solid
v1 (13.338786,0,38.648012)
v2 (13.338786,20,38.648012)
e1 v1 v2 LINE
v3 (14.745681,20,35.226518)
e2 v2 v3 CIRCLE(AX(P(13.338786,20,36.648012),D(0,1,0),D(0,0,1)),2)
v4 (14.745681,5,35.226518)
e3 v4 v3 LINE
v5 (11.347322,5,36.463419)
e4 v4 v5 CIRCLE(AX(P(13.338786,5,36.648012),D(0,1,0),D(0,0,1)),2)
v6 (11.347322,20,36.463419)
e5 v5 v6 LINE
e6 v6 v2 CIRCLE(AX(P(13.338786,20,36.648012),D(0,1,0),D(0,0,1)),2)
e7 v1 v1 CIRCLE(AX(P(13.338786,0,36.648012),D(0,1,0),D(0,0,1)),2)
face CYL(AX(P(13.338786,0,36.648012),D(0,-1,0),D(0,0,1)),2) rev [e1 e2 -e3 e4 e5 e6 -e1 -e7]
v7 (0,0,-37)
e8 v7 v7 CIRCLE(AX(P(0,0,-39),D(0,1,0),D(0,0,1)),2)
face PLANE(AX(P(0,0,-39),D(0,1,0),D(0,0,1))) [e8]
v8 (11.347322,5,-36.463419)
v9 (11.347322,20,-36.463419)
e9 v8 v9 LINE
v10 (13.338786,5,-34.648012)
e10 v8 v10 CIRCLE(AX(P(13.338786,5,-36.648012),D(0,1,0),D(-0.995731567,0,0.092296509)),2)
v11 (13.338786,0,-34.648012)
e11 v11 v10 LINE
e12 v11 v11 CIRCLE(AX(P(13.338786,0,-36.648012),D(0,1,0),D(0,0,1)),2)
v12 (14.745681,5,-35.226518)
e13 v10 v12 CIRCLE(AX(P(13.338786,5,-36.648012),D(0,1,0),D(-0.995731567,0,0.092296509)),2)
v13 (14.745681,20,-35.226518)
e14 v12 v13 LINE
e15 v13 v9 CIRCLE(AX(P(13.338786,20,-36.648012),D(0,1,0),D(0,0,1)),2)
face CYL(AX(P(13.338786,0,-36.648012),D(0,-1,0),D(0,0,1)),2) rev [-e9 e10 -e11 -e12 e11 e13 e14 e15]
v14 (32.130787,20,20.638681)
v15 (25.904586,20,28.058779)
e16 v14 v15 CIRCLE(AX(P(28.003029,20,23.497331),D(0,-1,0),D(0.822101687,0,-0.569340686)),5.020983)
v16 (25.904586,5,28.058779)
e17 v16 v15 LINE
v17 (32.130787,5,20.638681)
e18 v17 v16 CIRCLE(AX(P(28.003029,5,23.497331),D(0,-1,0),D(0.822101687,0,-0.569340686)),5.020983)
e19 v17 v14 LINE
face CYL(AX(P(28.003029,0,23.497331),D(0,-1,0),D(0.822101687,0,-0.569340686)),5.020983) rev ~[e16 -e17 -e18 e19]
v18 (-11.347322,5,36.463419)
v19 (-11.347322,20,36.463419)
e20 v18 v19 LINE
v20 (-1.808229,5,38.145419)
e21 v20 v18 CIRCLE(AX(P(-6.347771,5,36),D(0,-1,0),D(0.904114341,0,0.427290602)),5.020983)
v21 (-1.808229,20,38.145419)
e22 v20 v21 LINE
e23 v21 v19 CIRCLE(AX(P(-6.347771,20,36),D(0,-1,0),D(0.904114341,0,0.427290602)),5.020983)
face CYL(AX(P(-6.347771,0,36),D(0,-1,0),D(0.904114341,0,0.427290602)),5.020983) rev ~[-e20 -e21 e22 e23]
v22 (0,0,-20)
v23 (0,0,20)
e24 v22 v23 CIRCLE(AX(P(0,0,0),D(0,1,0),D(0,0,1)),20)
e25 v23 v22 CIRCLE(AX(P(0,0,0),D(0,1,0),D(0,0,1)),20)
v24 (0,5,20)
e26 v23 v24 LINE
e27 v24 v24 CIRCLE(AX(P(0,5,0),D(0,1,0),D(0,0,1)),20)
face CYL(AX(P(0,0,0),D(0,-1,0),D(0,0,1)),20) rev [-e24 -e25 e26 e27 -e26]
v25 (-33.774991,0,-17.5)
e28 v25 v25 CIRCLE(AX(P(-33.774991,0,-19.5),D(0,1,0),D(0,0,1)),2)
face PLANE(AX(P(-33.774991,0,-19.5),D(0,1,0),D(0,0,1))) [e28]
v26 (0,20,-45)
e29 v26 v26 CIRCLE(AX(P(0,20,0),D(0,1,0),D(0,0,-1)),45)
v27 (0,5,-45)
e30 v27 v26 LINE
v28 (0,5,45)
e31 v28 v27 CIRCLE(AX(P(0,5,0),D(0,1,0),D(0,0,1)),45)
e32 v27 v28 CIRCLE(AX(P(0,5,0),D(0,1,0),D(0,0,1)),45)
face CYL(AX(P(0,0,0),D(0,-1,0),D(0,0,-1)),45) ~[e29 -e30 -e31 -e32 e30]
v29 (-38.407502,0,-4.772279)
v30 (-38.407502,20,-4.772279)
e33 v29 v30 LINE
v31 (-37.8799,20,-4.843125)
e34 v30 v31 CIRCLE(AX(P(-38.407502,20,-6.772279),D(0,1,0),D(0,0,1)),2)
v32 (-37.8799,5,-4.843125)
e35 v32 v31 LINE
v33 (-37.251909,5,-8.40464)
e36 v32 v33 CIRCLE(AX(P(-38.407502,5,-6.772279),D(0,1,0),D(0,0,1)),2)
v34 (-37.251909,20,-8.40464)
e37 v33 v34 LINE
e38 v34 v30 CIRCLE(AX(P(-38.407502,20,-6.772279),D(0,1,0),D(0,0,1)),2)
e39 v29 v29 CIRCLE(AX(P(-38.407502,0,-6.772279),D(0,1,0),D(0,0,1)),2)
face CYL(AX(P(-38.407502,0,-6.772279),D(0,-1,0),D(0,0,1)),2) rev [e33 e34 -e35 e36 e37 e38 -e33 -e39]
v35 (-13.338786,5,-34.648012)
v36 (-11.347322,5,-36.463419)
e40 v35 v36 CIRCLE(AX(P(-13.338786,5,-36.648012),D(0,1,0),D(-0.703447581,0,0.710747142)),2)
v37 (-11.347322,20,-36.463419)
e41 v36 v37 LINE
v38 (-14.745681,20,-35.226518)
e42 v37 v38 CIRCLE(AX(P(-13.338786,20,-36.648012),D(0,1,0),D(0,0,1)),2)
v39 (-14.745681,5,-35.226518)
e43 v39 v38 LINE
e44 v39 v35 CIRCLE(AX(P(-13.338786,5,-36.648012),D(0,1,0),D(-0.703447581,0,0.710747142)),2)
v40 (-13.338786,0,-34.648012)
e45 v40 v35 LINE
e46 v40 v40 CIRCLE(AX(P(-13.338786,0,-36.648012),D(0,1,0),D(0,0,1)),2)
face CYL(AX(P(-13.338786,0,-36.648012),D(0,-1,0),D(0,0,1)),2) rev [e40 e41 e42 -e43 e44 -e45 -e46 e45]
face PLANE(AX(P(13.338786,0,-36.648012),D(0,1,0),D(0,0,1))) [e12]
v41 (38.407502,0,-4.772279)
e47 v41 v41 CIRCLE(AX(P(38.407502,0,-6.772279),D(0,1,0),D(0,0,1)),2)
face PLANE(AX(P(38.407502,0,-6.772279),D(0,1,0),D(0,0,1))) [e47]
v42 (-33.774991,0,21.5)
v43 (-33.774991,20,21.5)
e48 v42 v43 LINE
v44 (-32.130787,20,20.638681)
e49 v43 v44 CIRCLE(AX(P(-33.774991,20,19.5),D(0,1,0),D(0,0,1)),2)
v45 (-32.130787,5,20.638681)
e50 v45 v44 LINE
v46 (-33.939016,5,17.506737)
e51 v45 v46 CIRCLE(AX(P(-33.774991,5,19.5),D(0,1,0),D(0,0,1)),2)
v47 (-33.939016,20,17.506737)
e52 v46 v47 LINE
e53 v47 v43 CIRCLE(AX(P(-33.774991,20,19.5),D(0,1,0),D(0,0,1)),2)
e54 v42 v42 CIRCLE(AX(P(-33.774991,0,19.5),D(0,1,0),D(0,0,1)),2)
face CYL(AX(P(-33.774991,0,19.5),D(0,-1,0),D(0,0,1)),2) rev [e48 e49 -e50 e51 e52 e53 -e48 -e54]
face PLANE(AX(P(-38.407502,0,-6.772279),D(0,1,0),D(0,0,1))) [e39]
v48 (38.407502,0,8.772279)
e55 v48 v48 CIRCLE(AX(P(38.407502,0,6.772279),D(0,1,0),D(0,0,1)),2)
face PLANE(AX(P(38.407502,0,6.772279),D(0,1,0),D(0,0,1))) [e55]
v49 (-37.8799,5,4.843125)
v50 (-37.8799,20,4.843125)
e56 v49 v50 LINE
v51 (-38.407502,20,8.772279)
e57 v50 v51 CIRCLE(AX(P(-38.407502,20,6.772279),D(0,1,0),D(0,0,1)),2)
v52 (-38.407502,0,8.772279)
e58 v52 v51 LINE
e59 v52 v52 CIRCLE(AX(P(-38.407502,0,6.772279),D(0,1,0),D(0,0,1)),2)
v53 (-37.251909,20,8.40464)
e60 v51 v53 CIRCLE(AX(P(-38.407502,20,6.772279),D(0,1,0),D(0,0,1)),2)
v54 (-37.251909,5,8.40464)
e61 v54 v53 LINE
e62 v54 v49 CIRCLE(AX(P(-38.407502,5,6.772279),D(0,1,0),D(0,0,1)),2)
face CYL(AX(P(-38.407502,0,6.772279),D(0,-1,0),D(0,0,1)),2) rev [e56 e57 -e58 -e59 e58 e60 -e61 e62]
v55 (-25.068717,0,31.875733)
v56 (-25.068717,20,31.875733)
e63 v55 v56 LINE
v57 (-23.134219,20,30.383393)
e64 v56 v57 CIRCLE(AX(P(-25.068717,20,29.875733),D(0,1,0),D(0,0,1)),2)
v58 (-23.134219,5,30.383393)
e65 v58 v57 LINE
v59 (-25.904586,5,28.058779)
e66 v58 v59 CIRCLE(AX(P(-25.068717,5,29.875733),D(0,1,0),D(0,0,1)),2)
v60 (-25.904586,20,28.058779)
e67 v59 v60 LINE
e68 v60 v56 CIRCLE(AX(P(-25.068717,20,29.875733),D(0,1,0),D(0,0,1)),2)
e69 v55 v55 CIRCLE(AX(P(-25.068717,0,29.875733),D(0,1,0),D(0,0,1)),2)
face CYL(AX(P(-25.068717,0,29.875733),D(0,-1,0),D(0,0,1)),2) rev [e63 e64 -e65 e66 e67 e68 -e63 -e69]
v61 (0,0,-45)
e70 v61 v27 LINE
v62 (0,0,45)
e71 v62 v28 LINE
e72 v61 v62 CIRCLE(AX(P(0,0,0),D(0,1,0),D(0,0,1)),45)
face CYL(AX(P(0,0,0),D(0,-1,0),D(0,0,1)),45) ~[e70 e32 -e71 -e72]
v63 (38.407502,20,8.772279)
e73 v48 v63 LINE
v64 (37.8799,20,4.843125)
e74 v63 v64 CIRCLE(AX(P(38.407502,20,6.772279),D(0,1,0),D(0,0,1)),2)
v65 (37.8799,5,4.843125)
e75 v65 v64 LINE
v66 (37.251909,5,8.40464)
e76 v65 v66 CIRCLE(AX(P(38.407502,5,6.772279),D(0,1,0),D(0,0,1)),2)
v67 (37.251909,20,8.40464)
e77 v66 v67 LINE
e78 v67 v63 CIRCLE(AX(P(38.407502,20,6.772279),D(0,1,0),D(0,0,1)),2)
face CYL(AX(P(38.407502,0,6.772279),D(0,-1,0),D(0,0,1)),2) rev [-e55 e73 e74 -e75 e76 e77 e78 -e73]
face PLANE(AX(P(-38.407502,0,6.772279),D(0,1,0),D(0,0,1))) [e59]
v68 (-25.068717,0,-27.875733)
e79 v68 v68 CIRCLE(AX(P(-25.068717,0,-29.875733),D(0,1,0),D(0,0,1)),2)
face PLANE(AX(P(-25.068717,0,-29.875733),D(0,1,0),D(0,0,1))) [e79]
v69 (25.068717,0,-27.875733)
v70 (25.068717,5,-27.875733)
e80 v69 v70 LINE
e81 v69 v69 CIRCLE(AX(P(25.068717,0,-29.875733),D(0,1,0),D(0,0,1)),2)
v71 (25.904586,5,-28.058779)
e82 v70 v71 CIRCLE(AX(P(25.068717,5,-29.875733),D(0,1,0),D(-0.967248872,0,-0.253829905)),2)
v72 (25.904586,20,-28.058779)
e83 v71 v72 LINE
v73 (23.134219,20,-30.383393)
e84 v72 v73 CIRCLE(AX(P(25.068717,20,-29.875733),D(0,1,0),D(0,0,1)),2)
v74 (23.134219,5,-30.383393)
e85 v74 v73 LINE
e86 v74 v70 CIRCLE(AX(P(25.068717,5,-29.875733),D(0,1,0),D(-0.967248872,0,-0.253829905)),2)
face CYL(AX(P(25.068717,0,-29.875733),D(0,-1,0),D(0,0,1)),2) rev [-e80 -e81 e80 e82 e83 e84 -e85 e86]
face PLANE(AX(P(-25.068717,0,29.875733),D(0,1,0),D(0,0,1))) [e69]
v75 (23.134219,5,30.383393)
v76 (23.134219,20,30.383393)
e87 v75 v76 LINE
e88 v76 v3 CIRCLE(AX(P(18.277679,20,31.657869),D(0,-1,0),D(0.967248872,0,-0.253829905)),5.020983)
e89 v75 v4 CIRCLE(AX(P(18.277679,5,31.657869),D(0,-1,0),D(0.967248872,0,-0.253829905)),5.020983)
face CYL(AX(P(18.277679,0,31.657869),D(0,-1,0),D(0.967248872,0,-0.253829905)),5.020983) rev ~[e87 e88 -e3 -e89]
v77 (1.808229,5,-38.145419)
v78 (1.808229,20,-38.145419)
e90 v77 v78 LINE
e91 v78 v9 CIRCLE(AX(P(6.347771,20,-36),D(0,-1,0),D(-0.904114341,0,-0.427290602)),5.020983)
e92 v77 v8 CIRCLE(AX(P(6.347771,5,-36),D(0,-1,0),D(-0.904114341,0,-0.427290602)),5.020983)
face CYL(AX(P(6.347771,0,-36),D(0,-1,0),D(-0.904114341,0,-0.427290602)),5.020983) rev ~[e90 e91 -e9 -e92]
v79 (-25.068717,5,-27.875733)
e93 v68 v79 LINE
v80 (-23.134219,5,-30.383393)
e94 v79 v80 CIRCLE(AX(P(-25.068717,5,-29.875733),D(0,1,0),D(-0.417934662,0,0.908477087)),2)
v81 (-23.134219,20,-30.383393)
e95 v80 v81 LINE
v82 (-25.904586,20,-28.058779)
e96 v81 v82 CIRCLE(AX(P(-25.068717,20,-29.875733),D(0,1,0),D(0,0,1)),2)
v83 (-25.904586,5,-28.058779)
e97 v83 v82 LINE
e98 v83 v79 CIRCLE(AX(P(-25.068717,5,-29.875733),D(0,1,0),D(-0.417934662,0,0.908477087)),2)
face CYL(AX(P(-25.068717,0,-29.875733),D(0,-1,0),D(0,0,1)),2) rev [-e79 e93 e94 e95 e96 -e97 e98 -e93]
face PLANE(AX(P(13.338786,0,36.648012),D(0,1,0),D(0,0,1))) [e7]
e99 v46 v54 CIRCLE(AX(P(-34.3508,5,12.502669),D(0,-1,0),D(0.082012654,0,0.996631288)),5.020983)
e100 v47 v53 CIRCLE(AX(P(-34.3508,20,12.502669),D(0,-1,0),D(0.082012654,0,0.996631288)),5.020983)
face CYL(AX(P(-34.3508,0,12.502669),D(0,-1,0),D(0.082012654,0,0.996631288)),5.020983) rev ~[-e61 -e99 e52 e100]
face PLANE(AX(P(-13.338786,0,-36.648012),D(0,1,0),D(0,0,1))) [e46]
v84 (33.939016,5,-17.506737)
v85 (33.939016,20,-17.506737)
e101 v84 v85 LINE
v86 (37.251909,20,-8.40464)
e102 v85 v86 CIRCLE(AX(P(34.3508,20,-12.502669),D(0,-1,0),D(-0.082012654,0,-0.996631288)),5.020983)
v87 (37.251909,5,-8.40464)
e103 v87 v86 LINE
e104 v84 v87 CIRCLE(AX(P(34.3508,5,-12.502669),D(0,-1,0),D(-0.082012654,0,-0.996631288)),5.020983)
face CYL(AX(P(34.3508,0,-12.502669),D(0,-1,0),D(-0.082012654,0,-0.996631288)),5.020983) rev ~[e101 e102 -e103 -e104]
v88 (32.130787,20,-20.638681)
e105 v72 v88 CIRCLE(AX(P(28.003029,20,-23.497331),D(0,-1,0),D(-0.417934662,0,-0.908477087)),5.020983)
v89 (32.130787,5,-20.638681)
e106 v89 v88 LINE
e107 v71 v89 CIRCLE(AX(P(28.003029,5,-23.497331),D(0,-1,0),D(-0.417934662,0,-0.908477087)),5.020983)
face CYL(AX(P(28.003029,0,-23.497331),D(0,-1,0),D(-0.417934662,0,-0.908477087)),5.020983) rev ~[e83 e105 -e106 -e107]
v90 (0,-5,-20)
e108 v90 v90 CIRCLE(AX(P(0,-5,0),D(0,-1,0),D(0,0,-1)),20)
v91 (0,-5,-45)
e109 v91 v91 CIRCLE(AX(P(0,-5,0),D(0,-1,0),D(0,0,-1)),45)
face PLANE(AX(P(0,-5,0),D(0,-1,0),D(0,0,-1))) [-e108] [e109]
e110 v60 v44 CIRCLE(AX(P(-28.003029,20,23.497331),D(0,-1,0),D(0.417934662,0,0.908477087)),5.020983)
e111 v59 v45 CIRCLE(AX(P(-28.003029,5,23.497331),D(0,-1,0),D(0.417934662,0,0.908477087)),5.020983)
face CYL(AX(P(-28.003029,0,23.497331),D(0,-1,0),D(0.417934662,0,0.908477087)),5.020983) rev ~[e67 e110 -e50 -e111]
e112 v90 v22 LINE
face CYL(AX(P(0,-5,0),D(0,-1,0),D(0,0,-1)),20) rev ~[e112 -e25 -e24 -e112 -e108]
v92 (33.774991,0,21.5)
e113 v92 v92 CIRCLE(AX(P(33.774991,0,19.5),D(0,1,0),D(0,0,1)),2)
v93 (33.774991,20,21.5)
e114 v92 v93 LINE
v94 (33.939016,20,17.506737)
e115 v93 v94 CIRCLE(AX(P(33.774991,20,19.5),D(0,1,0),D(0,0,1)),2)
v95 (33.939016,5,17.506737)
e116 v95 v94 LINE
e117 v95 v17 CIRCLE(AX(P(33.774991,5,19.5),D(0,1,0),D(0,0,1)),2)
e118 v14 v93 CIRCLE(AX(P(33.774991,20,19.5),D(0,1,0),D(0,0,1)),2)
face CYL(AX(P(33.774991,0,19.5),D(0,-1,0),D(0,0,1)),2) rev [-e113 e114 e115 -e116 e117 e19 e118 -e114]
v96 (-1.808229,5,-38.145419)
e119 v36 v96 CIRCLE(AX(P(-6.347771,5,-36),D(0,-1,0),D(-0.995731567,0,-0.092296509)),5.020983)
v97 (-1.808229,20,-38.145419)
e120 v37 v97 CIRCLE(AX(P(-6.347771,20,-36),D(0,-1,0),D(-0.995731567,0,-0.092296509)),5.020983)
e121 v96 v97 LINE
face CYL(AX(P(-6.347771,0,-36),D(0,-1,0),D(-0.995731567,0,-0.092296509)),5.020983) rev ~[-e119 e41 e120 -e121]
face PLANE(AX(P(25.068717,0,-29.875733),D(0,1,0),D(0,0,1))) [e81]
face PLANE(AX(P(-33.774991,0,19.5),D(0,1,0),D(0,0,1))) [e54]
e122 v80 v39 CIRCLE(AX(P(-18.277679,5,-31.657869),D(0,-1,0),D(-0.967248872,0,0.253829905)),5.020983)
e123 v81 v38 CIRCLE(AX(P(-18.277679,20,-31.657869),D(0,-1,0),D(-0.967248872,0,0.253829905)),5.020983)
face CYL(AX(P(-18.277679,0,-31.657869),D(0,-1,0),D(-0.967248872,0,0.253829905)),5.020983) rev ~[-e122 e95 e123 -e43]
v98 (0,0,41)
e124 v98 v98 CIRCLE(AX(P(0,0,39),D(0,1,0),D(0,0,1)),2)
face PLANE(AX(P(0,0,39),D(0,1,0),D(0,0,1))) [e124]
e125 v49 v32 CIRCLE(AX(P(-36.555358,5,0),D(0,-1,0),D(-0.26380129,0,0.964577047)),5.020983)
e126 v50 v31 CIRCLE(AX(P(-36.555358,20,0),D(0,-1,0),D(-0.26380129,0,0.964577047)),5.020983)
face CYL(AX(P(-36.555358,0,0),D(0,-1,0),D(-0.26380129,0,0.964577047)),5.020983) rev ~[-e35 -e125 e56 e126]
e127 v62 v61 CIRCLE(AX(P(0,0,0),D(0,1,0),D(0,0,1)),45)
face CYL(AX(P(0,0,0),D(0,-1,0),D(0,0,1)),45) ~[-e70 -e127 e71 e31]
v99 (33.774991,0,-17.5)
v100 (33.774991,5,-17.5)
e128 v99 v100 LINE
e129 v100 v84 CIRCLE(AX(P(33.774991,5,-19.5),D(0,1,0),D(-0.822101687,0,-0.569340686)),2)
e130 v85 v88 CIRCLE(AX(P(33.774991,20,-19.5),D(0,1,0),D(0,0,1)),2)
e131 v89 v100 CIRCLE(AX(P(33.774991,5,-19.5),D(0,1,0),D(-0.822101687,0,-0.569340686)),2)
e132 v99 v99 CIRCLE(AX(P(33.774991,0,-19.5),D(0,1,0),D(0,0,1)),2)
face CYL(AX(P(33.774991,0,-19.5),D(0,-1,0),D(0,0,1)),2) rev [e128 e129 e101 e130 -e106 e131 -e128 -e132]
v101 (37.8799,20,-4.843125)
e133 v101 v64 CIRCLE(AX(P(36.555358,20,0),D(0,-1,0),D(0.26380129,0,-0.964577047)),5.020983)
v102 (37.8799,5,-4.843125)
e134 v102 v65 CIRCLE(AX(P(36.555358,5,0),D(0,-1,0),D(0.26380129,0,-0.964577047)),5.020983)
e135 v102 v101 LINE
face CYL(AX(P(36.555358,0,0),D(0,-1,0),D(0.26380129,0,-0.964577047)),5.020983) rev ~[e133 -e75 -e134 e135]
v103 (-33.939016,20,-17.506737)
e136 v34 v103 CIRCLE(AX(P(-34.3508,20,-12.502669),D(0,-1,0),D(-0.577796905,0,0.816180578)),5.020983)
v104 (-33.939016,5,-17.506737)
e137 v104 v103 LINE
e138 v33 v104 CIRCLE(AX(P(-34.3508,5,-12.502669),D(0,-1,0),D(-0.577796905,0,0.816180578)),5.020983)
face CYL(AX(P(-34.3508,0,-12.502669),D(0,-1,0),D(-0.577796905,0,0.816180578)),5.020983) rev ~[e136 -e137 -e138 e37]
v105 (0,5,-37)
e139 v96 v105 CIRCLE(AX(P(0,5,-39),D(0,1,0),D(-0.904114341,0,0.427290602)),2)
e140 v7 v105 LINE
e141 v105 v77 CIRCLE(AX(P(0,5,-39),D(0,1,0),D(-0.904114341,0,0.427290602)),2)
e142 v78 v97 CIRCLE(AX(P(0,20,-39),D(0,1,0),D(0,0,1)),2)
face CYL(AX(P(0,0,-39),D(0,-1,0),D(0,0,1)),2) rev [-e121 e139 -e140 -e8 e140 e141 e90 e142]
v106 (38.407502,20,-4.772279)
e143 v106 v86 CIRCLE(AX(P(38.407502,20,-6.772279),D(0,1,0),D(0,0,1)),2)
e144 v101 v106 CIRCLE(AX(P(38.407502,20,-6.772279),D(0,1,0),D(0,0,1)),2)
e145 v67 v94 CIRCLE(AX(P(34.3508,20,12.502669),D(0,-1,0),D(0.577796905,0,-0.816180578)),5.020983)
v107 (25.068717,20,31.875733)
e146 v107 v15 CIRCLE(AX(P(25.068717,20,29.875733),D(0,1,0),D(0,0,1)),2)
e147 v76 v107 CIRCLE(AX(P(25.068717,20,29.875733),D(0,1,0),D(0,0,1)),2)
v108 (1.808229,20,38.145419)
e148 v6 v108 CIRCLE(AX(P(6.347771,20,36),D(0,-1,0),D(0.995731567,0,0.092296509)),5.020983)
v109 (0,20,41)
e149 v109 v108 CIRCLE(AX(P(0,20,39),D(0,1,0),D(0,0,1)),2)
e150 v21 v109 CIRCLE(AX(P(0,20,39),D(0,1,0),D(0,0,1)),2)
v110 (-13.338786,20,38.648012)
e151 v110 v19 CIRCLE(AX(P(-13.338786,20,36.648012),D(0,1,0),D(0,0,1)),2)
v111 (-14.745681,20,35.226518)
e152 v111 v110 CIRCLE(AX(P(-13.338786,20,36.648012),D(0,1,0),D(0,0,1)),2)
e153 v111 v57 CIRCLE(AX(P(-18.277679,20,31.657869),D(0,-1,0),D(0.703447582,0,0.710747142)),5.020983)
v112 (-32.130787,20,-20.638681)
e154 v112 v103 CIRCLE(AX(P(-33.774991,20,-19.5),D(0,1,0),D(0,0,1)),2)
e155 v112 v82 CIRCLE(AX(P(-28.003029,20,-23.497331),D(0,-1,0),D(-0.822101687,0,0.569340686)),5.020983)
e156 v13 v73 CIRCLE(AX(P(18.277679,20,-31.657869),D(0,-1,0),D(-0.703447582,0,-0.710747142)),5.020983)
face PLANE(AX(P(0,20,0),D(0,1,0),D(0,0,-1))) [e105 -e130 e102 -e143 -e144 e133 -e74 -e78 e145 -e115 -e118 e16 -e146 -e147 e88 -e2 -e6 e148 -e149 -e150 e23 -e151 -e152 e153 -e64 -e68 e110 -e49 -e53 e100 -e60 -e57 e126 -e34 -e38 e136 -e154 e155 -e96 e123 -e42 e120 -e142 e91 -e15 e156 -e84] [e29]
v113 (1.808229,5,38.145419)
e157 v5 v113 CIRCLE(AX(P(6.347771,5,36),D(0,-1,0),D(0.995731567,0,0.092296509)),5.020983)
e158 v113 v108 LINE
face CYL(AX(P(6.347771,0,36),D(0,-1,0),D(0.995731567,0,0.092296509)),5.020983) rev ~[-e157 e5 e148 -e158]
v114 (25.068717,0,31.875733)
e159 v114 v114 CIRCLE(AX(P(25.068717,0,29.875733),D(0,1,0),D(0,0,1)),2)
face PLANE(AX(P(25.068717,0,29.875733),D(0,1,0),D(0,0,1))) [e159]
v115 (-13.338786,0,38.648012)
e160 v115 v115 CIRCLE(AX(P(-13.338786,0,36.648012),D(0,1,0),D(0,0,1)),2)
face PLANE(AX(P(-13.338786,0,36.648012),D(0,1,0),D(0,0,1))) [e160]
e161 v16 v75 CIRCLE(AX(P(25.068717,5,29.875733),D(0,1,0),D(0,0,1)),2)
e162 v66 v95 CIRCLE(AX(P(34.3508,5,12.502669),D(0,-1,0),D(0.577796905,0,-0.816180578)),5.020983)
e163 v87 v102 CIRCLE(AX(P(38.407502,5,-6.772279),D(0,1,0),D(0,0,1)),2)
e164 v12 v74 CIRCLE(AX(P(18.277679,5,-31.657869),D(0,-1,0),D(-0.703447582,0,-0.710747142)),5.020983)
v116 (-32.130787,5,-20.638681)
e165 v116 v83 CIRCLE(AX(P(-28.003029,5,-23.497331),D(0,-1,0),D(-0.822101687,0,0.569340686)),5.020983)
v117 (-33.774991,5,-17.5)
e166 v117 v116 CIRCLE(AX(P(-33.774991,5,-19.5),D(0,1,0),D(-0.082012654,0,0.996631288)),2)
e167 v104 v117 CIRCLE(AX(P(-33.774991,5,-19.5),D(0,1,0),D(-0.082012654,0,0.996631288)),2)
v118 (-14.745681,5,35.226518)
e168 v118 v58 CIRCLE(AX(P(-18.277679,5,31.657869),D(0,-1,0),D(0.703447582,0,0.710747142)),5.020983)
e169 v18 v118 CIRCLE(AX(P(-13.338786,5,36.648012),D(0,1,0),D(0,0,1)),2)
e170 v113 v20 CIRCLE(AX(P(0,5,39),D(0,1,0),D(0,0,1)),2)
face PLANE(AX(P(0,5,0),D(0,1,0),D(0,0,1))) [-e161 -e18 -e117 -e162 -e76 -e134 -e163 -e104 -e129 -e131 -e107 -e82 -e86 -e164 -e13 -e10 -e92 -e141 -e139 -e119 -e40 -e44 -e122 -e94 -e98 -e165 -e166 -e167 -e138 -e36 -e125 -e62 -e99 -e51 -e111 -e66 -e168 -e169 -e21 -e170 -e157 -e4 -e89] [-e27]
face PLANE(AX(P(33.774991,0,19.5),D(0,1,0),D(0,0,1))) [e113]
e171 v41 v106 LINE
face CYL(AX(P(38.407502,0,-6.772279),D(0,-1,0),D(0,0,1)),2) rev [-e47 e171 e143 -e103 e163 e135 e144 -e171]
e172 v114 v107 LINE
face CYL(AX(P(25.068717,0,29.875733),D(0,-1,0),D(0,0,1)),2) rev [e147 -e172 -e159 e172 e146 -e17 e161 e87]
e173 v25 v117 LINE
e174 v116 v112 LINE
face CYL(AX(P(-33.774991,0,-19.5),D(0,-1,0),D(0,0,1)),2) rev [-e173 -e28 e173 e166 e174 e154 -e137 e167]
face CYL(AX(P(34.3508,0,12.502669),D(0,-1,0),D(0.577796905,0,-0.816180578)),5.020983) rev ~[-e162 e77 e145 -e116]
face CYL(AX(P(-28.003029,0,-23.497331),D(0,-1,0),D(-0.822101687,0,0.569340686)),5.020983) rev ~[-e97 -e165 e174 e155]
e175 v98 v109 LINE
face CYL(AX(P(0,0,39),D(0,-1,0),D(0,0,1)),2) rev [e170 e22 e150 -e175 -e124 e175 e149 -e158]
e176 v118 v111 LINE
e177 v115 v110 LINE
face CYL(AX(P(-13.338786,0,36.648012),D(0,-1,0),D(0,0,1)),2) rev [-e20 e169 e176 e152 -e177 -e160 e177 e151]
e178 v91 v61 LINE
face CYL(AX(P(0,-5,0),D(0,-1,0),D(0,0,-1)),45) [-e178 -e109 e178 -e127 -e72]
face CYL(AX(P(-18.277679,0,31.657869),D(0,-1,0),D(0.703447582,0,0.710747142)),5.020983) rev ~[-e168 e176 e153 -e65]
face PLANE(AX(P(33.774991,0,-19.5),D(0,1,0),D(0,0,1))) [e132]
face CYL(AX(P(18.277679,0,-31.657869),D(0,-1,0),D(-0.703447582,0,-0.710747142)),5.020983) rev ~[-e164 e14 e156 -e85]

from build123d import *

# Parameters (mm, degrees)
SKETCH1_R           = 45
SKETCH1_R_2         = 2
SKETCH1_R_3         = 20
BOSS_EXTRUDE1_DEPTH = 5
BOSS_EXTRUDE2_START = 5
SKETCH2_R           = 45
SKETCH2_R_2         = 20
BOSS_EXTRUDE2_DEPTH = 5
SKETCH3_R           = 45
BOSS_EXTRUDE3_DEPTH = 20
CUT_EXTRUDE1_START  = -20
SKETCH4_R           = 2
CUT_EXTRUDE1_DEPTH  = 20


with BuildPart() as part:
    # Sketch1 → Boss-Extrude1 (new body)
    with BuildSketch(Plane(origin=(0, 0, 0), x_dir=(1, 0, 0), z_dir=(0, 1, 0))):
        with Locations(Location((0, 0, 0), (0, 0, 270))):
            Circle(SKETCH1_R)
        with Locations(Location((0, 39, 0), (0, 0, 270))):
            Circle(SKETCH1_R_2, mode=Mode.SUBTRACT)
        with Locations(Location((13.33878559, 36.648012211, 0), (0, 0, 270))):
            Circle(SKETCH1_R_2, mode=Mode.SUBTRACT)
        with Locations(Location((25.068716778, 29.875733282, 0), (0, 0, 270))):
            Circle(SKETCH1_R_2, mode=Mode.SUBTRACT)
        with Locations(Location((33.774990748, 19.5, 0), (0, 0, 270))):
            Circle(SKETCH1_R_2, mode=Mode.SUBTRACT)
        with Locations(Location((38.407502367, 6.772278929, 0), (0, 0, 270))):
            Circle(SKETCH1_R_2, mode=Mode.SUBTRACT)
        with Locations(Location((38.407502367, -6.772278929, 0), (0, 0, 270))):
            Circle(SKETCH1_R_2, mode=Mode.SUBTRACT)
        with Locations(Location((33.774990748, -19.5, 0), (0, 0, 270))):
            Circle(SKETCH1_R_2, mode=Mode.SUBTRACT)
        with Locations(Location((25.068716778, -29.875733282, 0), (0, 0, 270))):
            Circle(SKETCH1_R_2, mode=Mode.SUBTRACT)
        with Locations(Location((13.33878559, -36.648012211, 0), (0, 0, 270))):
            Circle(SKETCH1_R_2, mode=Mode.SUBTRACT)
        with Locations(Location((0, -39, 0), (0, 0, 270))):
            Circle(SKETCH1_R_2, mode=Mode.SUBTRACT)
        with Locations(Location((-13.33878559, -36.648012211, 0), (0, 0, 270))):
            Circle(SKETCH1_R_2, mode=Mode.SUBTRACT)
        with Locations(Location((-25.068716778, -29.875733282, 0), (0, 0, 270))):
            Circle(SKETCH1_R_2, mode=Mode.SUBTRACT)
        with Locations(Location((-33.774990748, -19.5, 0), (0, 0, 270))):
            Circle(SKETCH1_R_2, mode=Mode.SUBTRACT)
        with Locations(Location((-38.407502367, -6.772278929, 0), (0, 0, 270))):
            Circle(SKETCH1_R_2, mode=Mode.SUBTRACT)
        with Locations(Location((-38.407502367, 6.772278929, 0), (0, 0, 270))):
            Circle(SKETCH1_R_2, mode=Mode.SUBTRACT)
        with Locations(Location((-33.774990748, 19.5, 0), (0, 0, 270))):
            Circle(SKETCH1_R_2, mode=Mode.SUBTRACT)
        with Locations(Location((-25.068716778, 29.875733282, 0), (0, 0, 270))):
            Circle(SKETCH1_R_2, mode=Mode.SUBTRACT)
        with Locations(Location((-13.33878559, 36.648012211, 0), (0, 0, 270))):
            Circle(SKETCH1_R_2, mode=Mode.SUBTRACT)
        with Locations(Location((0, 0, 0), (0, 0, 270))):
            Circle(SKETCH1_R_3, mode=Mode.SUBTRACT)
    extrude(amount=BOSS_EXTRUDE1_DEPTH)

    # Sketch2 → Boss-Extrude2 (add)
    with BuildSketch(Plane.XZ.offset(BOSS_EXTRUDE2_START)):
        with Locations(Location((0, 0, 0), (0, 0, 270))):
            Circle(SKETCH2_R)
        with Locations(Location((0, 0, 0), (0, 0, 270))):
            Circle(SKETCH2_R_2, mode=Mode.SUBTRACT)
    extrude(amount=-BOSS_EXTRUDE2_DEPTH)

    # Sketch3 → Boss-Extrude3 (add)
    with BuildSketch(Plane(origin=(0, 0, 0), x_dir=(1, 0, 0), z_dir=(0, 1, 0))):
        with Locations(Location((0, 0, 0), (0, 0, 90))):
            Circle(SKETCH3_R)
        with BuildLine():
            ThreePointArc((-33.939016056, 17.506737424), (-32.04293994, 18.5), (-32.130787374, 20.638681372))
            ThreePointArc((-32.130787374, 20.638681372), (-31.849324915, 26.724756789), (-25.904586102, 28.058779107))
            ThreePointArc((-25.904586102, 28.058779107), (-23.783141558, 28.343644395), (-23.134219035, 30.383393091))
            ThreePointArc((-23.134219035, 30.383393091), (-20.788170452, 36.006167419), (-14.745680753, 35.226517926))
            ThreePointArc((-14.745680753, 35.226517926), (-12.654745303, 34.768626969), (-11.347322455, 36.463419192))
            ThreePointArc((-11.347322455, 36.463419192), (-7.219655832, 40.944702864), (-1.808228682, 38.145418796))
            ThreePointArc((-1.808228682, 38.145418796), (0, 37), (1.808228682, 38.145418796))
            ThreePointArc((1.808228682, 38.145418796), (7.219655832, 40.944702864), (11.347322455, 36.463419192))
            ThreePointArc((11.347322455, 36.463419192), (12.654745303, 34.768626969), (14.745680753, 35.226517926))
            ThreePointArc((14.745680753, 35.226517926), (20.788170452, 36.006167419), (23.134219035, 30.383393091))
            ThreePointArc((23.134219035, 30.383393091), (23.783141558, 28.343644395), (25.904586102, 28.058779107))
            ThreePointArc((25.904586102, 28.058779107), (31.849324915, 26.724756789), (32.130787374, 20.638681372))
            ThreePointArc((32.130787374, 20.638681372), (32.04293994, 18.5), (33.939016056, 17.506737424))
            ThreePointArc((33.939016056, 17.506737424), (39.068980747, 14.219946075), (37.251908557, 8.404640085))
            ThreePointArc((37.251908557, 8.404640085), (36.437886861, 6.424982574), (37.879899788, 4.843124835))
            ThreePointArc((37.879899788, 4.843124835), (41.576340904, 0), (37.879899788, -4.843124835))
            ThreePointArc((37.879899788, -4.843124835), (36.437886861, -6.424982574), (37.251908557, -8.404640085))
            ThreePointArc((37.251908557, -8.404640085), (39.068980747, -14.219946075), (33.939016056, -17.506737424))
            ThreePointArc((33.939016056, -17.506737424), (32.04293994, -18.5), (32.130787374, -20.638681372))
            ThreePointArc((32.130787374, -20.638681372), (31.849324915, -26.724756789), (25.904586102, -28.058779107))
            ThreePointArc((25.904586102, -28.058779107), (23.783141558, -28.343644395), (23.134219035, -30.383393091))
            ThreePointArc((23.134219035, -30.383393091), (20.788170452, -36.006167419), (14.745680753, -35.226517926))
            ThreePointArc((14.745680753, -35.226517926), (12.654745303, -34.768626969), (11.347322455, -36.463419192))
            ThreePointArc((11.347322455, -36.463419192), (7.219655832, -40.944702864), (1.808228682, -38.145418796))
            ThreePointArc((1.808228682, -38.145418796), (0, -37), (-1.808228682, -38.145418796))
            ThreePointArc((-1.808228682, -38.145418796), (-7.219655832, -40.944702864), (-11.347322455, -36.463419192))
            ThreePointArc((-11.347322455, -36.463419192), (-12.654745303, -34.768626969), (-14.745680753, -35.226517926))
            ThreePointArc((-14.745680753, -35.226517926), (-20.788170452, -36.006167419), (-23.134219035, -30.383393091))
            ThreePointArc((-23.134219035, -30.383393091), (-23.783141558, -28.343644395), (-25.904586102, -28.058779107))
            ThreePointArc((-25.904586102, -28.058779107), (-31.849324915, -26.724756789), (-32.130787374, -20.638681372))
            ThreePointArc((-32.130787374, -20.638681372), (-32.04293994, -18.5), (-33.939016056, -17.506737424))
            ThreePointArc((-33.939016056, -17.506737424), (-39.068980747, -14.219946075), (-37.251908557, -8.404640085))
            ThreePointArc((-37.251908557, -8.404640085), (-36.437886861, -6.424982574), (-37.879899788, -4.843124835))
            ThreePointArc((-37.879899788, -4.843124835), (-41.576340904, 0), (-37.879899788, 4.843124835))
            ThreePointArc((-37.879899788, 4.843124835), (-36.437886861, 6.424982574), (-37.251908557, 8.404640085))
            ThreePointArc((-37.251908557, 8.404640085), (-39.068980747, 14.219946075), (-33.939016056, 17.506737424))
        make_face(mode=Mode.SUBTRACT)
    extrude(amount=BOSS_EXTRUDE3_DEPTH)

    # Sketch4 → Cut-Extrude1 (cut)
    with BuildSketch(Plane(origin=(0, 20, 0), x_dir=(1, 0, 0), z_dir=(0, 1, 0)).offset(CUT_EXTRUDE1_START)):
        with Locations(Location((0, 39, 0), (0, 0, 270))):
            Circle(SKETCH4_R)
        with Locations(Location((13.33878559, 36.648012211, 0), (0, 0, 270))):
            Circle(SKETCH4_R)
        with Locations(Location((25.068716778, 29.875733282, 0), (0, 0, 270))):
            Circle(SKETCH4_R)
        with Locations(Location((33.774990748, 19.5, 0), (0, 0, 270))):
            Circle(SKETCH4_R)
        with Locations(Location((38.407502367, 6.772278929, 0), (0, 0, 270))):
            Circle(SKETCH4_R)
        with Locations(Location((38.407502367, -6.772278929, 0), (0, 0, 270))):
            Circle(SKETCH4_R)
        with Locations(Location((33.774990748, -19.5, 0), (0, 0, 270))):
            Circle(SKETCH4_R)
        with Locations(Location((25.068716778, -29.875733282, 0), (0, 0, 270))):
            Circle(SKETCH4_R)
        with Locations(Location((13.33878559, -36.648012211, 0), (0, 0, 270))):
            Circle(SKETCH4_R)
        with Locations(Location((0, -39, 0), (0, 0, 270))):
            Circle(SKETCH4_R)
        with Locations(Location((-13.33878559, -36.648012211, 0), (0, 0, 270))):
            Circle(SKETCH4_R)
        with Locations(Location((-25.068716778, -29.875733282, 0), (0, 0, 270))):
            Circle(SKETCH4_R)
        with Locations(Location((-33.774990748, -19.5, 0), (0, 0, 270))):
            Circle(SKETCH4_R)
        with Locations(Location((-38.407502367, -6.772278929, 0), (0, 0, 270))):
            Circle(SKETCH4_R)
        with Locations(Location((-38.407502367, 6.772278929, 0), (0, 0, 270))):
            Circle(SKETCH4_R)
        with Locations(Location((-33.774990748, 19.5, 0), (0, 0, 270))):
            Circle(SKETCH4_R)
        with Locations(Location((-25.068716778, 29.875733282, 0), (0, 0, 270))):
            Circle(SKETCH4_R)
        with Locations(Location((-13.33878559, 36.648012211, 0), (0, 0, 270))):
            Circle(SKETCH4_R)
    extrude(amount=CUT_EXTRUDE1_DEPTH, mode=Mode.SUBTRACT)


solid = part.part
